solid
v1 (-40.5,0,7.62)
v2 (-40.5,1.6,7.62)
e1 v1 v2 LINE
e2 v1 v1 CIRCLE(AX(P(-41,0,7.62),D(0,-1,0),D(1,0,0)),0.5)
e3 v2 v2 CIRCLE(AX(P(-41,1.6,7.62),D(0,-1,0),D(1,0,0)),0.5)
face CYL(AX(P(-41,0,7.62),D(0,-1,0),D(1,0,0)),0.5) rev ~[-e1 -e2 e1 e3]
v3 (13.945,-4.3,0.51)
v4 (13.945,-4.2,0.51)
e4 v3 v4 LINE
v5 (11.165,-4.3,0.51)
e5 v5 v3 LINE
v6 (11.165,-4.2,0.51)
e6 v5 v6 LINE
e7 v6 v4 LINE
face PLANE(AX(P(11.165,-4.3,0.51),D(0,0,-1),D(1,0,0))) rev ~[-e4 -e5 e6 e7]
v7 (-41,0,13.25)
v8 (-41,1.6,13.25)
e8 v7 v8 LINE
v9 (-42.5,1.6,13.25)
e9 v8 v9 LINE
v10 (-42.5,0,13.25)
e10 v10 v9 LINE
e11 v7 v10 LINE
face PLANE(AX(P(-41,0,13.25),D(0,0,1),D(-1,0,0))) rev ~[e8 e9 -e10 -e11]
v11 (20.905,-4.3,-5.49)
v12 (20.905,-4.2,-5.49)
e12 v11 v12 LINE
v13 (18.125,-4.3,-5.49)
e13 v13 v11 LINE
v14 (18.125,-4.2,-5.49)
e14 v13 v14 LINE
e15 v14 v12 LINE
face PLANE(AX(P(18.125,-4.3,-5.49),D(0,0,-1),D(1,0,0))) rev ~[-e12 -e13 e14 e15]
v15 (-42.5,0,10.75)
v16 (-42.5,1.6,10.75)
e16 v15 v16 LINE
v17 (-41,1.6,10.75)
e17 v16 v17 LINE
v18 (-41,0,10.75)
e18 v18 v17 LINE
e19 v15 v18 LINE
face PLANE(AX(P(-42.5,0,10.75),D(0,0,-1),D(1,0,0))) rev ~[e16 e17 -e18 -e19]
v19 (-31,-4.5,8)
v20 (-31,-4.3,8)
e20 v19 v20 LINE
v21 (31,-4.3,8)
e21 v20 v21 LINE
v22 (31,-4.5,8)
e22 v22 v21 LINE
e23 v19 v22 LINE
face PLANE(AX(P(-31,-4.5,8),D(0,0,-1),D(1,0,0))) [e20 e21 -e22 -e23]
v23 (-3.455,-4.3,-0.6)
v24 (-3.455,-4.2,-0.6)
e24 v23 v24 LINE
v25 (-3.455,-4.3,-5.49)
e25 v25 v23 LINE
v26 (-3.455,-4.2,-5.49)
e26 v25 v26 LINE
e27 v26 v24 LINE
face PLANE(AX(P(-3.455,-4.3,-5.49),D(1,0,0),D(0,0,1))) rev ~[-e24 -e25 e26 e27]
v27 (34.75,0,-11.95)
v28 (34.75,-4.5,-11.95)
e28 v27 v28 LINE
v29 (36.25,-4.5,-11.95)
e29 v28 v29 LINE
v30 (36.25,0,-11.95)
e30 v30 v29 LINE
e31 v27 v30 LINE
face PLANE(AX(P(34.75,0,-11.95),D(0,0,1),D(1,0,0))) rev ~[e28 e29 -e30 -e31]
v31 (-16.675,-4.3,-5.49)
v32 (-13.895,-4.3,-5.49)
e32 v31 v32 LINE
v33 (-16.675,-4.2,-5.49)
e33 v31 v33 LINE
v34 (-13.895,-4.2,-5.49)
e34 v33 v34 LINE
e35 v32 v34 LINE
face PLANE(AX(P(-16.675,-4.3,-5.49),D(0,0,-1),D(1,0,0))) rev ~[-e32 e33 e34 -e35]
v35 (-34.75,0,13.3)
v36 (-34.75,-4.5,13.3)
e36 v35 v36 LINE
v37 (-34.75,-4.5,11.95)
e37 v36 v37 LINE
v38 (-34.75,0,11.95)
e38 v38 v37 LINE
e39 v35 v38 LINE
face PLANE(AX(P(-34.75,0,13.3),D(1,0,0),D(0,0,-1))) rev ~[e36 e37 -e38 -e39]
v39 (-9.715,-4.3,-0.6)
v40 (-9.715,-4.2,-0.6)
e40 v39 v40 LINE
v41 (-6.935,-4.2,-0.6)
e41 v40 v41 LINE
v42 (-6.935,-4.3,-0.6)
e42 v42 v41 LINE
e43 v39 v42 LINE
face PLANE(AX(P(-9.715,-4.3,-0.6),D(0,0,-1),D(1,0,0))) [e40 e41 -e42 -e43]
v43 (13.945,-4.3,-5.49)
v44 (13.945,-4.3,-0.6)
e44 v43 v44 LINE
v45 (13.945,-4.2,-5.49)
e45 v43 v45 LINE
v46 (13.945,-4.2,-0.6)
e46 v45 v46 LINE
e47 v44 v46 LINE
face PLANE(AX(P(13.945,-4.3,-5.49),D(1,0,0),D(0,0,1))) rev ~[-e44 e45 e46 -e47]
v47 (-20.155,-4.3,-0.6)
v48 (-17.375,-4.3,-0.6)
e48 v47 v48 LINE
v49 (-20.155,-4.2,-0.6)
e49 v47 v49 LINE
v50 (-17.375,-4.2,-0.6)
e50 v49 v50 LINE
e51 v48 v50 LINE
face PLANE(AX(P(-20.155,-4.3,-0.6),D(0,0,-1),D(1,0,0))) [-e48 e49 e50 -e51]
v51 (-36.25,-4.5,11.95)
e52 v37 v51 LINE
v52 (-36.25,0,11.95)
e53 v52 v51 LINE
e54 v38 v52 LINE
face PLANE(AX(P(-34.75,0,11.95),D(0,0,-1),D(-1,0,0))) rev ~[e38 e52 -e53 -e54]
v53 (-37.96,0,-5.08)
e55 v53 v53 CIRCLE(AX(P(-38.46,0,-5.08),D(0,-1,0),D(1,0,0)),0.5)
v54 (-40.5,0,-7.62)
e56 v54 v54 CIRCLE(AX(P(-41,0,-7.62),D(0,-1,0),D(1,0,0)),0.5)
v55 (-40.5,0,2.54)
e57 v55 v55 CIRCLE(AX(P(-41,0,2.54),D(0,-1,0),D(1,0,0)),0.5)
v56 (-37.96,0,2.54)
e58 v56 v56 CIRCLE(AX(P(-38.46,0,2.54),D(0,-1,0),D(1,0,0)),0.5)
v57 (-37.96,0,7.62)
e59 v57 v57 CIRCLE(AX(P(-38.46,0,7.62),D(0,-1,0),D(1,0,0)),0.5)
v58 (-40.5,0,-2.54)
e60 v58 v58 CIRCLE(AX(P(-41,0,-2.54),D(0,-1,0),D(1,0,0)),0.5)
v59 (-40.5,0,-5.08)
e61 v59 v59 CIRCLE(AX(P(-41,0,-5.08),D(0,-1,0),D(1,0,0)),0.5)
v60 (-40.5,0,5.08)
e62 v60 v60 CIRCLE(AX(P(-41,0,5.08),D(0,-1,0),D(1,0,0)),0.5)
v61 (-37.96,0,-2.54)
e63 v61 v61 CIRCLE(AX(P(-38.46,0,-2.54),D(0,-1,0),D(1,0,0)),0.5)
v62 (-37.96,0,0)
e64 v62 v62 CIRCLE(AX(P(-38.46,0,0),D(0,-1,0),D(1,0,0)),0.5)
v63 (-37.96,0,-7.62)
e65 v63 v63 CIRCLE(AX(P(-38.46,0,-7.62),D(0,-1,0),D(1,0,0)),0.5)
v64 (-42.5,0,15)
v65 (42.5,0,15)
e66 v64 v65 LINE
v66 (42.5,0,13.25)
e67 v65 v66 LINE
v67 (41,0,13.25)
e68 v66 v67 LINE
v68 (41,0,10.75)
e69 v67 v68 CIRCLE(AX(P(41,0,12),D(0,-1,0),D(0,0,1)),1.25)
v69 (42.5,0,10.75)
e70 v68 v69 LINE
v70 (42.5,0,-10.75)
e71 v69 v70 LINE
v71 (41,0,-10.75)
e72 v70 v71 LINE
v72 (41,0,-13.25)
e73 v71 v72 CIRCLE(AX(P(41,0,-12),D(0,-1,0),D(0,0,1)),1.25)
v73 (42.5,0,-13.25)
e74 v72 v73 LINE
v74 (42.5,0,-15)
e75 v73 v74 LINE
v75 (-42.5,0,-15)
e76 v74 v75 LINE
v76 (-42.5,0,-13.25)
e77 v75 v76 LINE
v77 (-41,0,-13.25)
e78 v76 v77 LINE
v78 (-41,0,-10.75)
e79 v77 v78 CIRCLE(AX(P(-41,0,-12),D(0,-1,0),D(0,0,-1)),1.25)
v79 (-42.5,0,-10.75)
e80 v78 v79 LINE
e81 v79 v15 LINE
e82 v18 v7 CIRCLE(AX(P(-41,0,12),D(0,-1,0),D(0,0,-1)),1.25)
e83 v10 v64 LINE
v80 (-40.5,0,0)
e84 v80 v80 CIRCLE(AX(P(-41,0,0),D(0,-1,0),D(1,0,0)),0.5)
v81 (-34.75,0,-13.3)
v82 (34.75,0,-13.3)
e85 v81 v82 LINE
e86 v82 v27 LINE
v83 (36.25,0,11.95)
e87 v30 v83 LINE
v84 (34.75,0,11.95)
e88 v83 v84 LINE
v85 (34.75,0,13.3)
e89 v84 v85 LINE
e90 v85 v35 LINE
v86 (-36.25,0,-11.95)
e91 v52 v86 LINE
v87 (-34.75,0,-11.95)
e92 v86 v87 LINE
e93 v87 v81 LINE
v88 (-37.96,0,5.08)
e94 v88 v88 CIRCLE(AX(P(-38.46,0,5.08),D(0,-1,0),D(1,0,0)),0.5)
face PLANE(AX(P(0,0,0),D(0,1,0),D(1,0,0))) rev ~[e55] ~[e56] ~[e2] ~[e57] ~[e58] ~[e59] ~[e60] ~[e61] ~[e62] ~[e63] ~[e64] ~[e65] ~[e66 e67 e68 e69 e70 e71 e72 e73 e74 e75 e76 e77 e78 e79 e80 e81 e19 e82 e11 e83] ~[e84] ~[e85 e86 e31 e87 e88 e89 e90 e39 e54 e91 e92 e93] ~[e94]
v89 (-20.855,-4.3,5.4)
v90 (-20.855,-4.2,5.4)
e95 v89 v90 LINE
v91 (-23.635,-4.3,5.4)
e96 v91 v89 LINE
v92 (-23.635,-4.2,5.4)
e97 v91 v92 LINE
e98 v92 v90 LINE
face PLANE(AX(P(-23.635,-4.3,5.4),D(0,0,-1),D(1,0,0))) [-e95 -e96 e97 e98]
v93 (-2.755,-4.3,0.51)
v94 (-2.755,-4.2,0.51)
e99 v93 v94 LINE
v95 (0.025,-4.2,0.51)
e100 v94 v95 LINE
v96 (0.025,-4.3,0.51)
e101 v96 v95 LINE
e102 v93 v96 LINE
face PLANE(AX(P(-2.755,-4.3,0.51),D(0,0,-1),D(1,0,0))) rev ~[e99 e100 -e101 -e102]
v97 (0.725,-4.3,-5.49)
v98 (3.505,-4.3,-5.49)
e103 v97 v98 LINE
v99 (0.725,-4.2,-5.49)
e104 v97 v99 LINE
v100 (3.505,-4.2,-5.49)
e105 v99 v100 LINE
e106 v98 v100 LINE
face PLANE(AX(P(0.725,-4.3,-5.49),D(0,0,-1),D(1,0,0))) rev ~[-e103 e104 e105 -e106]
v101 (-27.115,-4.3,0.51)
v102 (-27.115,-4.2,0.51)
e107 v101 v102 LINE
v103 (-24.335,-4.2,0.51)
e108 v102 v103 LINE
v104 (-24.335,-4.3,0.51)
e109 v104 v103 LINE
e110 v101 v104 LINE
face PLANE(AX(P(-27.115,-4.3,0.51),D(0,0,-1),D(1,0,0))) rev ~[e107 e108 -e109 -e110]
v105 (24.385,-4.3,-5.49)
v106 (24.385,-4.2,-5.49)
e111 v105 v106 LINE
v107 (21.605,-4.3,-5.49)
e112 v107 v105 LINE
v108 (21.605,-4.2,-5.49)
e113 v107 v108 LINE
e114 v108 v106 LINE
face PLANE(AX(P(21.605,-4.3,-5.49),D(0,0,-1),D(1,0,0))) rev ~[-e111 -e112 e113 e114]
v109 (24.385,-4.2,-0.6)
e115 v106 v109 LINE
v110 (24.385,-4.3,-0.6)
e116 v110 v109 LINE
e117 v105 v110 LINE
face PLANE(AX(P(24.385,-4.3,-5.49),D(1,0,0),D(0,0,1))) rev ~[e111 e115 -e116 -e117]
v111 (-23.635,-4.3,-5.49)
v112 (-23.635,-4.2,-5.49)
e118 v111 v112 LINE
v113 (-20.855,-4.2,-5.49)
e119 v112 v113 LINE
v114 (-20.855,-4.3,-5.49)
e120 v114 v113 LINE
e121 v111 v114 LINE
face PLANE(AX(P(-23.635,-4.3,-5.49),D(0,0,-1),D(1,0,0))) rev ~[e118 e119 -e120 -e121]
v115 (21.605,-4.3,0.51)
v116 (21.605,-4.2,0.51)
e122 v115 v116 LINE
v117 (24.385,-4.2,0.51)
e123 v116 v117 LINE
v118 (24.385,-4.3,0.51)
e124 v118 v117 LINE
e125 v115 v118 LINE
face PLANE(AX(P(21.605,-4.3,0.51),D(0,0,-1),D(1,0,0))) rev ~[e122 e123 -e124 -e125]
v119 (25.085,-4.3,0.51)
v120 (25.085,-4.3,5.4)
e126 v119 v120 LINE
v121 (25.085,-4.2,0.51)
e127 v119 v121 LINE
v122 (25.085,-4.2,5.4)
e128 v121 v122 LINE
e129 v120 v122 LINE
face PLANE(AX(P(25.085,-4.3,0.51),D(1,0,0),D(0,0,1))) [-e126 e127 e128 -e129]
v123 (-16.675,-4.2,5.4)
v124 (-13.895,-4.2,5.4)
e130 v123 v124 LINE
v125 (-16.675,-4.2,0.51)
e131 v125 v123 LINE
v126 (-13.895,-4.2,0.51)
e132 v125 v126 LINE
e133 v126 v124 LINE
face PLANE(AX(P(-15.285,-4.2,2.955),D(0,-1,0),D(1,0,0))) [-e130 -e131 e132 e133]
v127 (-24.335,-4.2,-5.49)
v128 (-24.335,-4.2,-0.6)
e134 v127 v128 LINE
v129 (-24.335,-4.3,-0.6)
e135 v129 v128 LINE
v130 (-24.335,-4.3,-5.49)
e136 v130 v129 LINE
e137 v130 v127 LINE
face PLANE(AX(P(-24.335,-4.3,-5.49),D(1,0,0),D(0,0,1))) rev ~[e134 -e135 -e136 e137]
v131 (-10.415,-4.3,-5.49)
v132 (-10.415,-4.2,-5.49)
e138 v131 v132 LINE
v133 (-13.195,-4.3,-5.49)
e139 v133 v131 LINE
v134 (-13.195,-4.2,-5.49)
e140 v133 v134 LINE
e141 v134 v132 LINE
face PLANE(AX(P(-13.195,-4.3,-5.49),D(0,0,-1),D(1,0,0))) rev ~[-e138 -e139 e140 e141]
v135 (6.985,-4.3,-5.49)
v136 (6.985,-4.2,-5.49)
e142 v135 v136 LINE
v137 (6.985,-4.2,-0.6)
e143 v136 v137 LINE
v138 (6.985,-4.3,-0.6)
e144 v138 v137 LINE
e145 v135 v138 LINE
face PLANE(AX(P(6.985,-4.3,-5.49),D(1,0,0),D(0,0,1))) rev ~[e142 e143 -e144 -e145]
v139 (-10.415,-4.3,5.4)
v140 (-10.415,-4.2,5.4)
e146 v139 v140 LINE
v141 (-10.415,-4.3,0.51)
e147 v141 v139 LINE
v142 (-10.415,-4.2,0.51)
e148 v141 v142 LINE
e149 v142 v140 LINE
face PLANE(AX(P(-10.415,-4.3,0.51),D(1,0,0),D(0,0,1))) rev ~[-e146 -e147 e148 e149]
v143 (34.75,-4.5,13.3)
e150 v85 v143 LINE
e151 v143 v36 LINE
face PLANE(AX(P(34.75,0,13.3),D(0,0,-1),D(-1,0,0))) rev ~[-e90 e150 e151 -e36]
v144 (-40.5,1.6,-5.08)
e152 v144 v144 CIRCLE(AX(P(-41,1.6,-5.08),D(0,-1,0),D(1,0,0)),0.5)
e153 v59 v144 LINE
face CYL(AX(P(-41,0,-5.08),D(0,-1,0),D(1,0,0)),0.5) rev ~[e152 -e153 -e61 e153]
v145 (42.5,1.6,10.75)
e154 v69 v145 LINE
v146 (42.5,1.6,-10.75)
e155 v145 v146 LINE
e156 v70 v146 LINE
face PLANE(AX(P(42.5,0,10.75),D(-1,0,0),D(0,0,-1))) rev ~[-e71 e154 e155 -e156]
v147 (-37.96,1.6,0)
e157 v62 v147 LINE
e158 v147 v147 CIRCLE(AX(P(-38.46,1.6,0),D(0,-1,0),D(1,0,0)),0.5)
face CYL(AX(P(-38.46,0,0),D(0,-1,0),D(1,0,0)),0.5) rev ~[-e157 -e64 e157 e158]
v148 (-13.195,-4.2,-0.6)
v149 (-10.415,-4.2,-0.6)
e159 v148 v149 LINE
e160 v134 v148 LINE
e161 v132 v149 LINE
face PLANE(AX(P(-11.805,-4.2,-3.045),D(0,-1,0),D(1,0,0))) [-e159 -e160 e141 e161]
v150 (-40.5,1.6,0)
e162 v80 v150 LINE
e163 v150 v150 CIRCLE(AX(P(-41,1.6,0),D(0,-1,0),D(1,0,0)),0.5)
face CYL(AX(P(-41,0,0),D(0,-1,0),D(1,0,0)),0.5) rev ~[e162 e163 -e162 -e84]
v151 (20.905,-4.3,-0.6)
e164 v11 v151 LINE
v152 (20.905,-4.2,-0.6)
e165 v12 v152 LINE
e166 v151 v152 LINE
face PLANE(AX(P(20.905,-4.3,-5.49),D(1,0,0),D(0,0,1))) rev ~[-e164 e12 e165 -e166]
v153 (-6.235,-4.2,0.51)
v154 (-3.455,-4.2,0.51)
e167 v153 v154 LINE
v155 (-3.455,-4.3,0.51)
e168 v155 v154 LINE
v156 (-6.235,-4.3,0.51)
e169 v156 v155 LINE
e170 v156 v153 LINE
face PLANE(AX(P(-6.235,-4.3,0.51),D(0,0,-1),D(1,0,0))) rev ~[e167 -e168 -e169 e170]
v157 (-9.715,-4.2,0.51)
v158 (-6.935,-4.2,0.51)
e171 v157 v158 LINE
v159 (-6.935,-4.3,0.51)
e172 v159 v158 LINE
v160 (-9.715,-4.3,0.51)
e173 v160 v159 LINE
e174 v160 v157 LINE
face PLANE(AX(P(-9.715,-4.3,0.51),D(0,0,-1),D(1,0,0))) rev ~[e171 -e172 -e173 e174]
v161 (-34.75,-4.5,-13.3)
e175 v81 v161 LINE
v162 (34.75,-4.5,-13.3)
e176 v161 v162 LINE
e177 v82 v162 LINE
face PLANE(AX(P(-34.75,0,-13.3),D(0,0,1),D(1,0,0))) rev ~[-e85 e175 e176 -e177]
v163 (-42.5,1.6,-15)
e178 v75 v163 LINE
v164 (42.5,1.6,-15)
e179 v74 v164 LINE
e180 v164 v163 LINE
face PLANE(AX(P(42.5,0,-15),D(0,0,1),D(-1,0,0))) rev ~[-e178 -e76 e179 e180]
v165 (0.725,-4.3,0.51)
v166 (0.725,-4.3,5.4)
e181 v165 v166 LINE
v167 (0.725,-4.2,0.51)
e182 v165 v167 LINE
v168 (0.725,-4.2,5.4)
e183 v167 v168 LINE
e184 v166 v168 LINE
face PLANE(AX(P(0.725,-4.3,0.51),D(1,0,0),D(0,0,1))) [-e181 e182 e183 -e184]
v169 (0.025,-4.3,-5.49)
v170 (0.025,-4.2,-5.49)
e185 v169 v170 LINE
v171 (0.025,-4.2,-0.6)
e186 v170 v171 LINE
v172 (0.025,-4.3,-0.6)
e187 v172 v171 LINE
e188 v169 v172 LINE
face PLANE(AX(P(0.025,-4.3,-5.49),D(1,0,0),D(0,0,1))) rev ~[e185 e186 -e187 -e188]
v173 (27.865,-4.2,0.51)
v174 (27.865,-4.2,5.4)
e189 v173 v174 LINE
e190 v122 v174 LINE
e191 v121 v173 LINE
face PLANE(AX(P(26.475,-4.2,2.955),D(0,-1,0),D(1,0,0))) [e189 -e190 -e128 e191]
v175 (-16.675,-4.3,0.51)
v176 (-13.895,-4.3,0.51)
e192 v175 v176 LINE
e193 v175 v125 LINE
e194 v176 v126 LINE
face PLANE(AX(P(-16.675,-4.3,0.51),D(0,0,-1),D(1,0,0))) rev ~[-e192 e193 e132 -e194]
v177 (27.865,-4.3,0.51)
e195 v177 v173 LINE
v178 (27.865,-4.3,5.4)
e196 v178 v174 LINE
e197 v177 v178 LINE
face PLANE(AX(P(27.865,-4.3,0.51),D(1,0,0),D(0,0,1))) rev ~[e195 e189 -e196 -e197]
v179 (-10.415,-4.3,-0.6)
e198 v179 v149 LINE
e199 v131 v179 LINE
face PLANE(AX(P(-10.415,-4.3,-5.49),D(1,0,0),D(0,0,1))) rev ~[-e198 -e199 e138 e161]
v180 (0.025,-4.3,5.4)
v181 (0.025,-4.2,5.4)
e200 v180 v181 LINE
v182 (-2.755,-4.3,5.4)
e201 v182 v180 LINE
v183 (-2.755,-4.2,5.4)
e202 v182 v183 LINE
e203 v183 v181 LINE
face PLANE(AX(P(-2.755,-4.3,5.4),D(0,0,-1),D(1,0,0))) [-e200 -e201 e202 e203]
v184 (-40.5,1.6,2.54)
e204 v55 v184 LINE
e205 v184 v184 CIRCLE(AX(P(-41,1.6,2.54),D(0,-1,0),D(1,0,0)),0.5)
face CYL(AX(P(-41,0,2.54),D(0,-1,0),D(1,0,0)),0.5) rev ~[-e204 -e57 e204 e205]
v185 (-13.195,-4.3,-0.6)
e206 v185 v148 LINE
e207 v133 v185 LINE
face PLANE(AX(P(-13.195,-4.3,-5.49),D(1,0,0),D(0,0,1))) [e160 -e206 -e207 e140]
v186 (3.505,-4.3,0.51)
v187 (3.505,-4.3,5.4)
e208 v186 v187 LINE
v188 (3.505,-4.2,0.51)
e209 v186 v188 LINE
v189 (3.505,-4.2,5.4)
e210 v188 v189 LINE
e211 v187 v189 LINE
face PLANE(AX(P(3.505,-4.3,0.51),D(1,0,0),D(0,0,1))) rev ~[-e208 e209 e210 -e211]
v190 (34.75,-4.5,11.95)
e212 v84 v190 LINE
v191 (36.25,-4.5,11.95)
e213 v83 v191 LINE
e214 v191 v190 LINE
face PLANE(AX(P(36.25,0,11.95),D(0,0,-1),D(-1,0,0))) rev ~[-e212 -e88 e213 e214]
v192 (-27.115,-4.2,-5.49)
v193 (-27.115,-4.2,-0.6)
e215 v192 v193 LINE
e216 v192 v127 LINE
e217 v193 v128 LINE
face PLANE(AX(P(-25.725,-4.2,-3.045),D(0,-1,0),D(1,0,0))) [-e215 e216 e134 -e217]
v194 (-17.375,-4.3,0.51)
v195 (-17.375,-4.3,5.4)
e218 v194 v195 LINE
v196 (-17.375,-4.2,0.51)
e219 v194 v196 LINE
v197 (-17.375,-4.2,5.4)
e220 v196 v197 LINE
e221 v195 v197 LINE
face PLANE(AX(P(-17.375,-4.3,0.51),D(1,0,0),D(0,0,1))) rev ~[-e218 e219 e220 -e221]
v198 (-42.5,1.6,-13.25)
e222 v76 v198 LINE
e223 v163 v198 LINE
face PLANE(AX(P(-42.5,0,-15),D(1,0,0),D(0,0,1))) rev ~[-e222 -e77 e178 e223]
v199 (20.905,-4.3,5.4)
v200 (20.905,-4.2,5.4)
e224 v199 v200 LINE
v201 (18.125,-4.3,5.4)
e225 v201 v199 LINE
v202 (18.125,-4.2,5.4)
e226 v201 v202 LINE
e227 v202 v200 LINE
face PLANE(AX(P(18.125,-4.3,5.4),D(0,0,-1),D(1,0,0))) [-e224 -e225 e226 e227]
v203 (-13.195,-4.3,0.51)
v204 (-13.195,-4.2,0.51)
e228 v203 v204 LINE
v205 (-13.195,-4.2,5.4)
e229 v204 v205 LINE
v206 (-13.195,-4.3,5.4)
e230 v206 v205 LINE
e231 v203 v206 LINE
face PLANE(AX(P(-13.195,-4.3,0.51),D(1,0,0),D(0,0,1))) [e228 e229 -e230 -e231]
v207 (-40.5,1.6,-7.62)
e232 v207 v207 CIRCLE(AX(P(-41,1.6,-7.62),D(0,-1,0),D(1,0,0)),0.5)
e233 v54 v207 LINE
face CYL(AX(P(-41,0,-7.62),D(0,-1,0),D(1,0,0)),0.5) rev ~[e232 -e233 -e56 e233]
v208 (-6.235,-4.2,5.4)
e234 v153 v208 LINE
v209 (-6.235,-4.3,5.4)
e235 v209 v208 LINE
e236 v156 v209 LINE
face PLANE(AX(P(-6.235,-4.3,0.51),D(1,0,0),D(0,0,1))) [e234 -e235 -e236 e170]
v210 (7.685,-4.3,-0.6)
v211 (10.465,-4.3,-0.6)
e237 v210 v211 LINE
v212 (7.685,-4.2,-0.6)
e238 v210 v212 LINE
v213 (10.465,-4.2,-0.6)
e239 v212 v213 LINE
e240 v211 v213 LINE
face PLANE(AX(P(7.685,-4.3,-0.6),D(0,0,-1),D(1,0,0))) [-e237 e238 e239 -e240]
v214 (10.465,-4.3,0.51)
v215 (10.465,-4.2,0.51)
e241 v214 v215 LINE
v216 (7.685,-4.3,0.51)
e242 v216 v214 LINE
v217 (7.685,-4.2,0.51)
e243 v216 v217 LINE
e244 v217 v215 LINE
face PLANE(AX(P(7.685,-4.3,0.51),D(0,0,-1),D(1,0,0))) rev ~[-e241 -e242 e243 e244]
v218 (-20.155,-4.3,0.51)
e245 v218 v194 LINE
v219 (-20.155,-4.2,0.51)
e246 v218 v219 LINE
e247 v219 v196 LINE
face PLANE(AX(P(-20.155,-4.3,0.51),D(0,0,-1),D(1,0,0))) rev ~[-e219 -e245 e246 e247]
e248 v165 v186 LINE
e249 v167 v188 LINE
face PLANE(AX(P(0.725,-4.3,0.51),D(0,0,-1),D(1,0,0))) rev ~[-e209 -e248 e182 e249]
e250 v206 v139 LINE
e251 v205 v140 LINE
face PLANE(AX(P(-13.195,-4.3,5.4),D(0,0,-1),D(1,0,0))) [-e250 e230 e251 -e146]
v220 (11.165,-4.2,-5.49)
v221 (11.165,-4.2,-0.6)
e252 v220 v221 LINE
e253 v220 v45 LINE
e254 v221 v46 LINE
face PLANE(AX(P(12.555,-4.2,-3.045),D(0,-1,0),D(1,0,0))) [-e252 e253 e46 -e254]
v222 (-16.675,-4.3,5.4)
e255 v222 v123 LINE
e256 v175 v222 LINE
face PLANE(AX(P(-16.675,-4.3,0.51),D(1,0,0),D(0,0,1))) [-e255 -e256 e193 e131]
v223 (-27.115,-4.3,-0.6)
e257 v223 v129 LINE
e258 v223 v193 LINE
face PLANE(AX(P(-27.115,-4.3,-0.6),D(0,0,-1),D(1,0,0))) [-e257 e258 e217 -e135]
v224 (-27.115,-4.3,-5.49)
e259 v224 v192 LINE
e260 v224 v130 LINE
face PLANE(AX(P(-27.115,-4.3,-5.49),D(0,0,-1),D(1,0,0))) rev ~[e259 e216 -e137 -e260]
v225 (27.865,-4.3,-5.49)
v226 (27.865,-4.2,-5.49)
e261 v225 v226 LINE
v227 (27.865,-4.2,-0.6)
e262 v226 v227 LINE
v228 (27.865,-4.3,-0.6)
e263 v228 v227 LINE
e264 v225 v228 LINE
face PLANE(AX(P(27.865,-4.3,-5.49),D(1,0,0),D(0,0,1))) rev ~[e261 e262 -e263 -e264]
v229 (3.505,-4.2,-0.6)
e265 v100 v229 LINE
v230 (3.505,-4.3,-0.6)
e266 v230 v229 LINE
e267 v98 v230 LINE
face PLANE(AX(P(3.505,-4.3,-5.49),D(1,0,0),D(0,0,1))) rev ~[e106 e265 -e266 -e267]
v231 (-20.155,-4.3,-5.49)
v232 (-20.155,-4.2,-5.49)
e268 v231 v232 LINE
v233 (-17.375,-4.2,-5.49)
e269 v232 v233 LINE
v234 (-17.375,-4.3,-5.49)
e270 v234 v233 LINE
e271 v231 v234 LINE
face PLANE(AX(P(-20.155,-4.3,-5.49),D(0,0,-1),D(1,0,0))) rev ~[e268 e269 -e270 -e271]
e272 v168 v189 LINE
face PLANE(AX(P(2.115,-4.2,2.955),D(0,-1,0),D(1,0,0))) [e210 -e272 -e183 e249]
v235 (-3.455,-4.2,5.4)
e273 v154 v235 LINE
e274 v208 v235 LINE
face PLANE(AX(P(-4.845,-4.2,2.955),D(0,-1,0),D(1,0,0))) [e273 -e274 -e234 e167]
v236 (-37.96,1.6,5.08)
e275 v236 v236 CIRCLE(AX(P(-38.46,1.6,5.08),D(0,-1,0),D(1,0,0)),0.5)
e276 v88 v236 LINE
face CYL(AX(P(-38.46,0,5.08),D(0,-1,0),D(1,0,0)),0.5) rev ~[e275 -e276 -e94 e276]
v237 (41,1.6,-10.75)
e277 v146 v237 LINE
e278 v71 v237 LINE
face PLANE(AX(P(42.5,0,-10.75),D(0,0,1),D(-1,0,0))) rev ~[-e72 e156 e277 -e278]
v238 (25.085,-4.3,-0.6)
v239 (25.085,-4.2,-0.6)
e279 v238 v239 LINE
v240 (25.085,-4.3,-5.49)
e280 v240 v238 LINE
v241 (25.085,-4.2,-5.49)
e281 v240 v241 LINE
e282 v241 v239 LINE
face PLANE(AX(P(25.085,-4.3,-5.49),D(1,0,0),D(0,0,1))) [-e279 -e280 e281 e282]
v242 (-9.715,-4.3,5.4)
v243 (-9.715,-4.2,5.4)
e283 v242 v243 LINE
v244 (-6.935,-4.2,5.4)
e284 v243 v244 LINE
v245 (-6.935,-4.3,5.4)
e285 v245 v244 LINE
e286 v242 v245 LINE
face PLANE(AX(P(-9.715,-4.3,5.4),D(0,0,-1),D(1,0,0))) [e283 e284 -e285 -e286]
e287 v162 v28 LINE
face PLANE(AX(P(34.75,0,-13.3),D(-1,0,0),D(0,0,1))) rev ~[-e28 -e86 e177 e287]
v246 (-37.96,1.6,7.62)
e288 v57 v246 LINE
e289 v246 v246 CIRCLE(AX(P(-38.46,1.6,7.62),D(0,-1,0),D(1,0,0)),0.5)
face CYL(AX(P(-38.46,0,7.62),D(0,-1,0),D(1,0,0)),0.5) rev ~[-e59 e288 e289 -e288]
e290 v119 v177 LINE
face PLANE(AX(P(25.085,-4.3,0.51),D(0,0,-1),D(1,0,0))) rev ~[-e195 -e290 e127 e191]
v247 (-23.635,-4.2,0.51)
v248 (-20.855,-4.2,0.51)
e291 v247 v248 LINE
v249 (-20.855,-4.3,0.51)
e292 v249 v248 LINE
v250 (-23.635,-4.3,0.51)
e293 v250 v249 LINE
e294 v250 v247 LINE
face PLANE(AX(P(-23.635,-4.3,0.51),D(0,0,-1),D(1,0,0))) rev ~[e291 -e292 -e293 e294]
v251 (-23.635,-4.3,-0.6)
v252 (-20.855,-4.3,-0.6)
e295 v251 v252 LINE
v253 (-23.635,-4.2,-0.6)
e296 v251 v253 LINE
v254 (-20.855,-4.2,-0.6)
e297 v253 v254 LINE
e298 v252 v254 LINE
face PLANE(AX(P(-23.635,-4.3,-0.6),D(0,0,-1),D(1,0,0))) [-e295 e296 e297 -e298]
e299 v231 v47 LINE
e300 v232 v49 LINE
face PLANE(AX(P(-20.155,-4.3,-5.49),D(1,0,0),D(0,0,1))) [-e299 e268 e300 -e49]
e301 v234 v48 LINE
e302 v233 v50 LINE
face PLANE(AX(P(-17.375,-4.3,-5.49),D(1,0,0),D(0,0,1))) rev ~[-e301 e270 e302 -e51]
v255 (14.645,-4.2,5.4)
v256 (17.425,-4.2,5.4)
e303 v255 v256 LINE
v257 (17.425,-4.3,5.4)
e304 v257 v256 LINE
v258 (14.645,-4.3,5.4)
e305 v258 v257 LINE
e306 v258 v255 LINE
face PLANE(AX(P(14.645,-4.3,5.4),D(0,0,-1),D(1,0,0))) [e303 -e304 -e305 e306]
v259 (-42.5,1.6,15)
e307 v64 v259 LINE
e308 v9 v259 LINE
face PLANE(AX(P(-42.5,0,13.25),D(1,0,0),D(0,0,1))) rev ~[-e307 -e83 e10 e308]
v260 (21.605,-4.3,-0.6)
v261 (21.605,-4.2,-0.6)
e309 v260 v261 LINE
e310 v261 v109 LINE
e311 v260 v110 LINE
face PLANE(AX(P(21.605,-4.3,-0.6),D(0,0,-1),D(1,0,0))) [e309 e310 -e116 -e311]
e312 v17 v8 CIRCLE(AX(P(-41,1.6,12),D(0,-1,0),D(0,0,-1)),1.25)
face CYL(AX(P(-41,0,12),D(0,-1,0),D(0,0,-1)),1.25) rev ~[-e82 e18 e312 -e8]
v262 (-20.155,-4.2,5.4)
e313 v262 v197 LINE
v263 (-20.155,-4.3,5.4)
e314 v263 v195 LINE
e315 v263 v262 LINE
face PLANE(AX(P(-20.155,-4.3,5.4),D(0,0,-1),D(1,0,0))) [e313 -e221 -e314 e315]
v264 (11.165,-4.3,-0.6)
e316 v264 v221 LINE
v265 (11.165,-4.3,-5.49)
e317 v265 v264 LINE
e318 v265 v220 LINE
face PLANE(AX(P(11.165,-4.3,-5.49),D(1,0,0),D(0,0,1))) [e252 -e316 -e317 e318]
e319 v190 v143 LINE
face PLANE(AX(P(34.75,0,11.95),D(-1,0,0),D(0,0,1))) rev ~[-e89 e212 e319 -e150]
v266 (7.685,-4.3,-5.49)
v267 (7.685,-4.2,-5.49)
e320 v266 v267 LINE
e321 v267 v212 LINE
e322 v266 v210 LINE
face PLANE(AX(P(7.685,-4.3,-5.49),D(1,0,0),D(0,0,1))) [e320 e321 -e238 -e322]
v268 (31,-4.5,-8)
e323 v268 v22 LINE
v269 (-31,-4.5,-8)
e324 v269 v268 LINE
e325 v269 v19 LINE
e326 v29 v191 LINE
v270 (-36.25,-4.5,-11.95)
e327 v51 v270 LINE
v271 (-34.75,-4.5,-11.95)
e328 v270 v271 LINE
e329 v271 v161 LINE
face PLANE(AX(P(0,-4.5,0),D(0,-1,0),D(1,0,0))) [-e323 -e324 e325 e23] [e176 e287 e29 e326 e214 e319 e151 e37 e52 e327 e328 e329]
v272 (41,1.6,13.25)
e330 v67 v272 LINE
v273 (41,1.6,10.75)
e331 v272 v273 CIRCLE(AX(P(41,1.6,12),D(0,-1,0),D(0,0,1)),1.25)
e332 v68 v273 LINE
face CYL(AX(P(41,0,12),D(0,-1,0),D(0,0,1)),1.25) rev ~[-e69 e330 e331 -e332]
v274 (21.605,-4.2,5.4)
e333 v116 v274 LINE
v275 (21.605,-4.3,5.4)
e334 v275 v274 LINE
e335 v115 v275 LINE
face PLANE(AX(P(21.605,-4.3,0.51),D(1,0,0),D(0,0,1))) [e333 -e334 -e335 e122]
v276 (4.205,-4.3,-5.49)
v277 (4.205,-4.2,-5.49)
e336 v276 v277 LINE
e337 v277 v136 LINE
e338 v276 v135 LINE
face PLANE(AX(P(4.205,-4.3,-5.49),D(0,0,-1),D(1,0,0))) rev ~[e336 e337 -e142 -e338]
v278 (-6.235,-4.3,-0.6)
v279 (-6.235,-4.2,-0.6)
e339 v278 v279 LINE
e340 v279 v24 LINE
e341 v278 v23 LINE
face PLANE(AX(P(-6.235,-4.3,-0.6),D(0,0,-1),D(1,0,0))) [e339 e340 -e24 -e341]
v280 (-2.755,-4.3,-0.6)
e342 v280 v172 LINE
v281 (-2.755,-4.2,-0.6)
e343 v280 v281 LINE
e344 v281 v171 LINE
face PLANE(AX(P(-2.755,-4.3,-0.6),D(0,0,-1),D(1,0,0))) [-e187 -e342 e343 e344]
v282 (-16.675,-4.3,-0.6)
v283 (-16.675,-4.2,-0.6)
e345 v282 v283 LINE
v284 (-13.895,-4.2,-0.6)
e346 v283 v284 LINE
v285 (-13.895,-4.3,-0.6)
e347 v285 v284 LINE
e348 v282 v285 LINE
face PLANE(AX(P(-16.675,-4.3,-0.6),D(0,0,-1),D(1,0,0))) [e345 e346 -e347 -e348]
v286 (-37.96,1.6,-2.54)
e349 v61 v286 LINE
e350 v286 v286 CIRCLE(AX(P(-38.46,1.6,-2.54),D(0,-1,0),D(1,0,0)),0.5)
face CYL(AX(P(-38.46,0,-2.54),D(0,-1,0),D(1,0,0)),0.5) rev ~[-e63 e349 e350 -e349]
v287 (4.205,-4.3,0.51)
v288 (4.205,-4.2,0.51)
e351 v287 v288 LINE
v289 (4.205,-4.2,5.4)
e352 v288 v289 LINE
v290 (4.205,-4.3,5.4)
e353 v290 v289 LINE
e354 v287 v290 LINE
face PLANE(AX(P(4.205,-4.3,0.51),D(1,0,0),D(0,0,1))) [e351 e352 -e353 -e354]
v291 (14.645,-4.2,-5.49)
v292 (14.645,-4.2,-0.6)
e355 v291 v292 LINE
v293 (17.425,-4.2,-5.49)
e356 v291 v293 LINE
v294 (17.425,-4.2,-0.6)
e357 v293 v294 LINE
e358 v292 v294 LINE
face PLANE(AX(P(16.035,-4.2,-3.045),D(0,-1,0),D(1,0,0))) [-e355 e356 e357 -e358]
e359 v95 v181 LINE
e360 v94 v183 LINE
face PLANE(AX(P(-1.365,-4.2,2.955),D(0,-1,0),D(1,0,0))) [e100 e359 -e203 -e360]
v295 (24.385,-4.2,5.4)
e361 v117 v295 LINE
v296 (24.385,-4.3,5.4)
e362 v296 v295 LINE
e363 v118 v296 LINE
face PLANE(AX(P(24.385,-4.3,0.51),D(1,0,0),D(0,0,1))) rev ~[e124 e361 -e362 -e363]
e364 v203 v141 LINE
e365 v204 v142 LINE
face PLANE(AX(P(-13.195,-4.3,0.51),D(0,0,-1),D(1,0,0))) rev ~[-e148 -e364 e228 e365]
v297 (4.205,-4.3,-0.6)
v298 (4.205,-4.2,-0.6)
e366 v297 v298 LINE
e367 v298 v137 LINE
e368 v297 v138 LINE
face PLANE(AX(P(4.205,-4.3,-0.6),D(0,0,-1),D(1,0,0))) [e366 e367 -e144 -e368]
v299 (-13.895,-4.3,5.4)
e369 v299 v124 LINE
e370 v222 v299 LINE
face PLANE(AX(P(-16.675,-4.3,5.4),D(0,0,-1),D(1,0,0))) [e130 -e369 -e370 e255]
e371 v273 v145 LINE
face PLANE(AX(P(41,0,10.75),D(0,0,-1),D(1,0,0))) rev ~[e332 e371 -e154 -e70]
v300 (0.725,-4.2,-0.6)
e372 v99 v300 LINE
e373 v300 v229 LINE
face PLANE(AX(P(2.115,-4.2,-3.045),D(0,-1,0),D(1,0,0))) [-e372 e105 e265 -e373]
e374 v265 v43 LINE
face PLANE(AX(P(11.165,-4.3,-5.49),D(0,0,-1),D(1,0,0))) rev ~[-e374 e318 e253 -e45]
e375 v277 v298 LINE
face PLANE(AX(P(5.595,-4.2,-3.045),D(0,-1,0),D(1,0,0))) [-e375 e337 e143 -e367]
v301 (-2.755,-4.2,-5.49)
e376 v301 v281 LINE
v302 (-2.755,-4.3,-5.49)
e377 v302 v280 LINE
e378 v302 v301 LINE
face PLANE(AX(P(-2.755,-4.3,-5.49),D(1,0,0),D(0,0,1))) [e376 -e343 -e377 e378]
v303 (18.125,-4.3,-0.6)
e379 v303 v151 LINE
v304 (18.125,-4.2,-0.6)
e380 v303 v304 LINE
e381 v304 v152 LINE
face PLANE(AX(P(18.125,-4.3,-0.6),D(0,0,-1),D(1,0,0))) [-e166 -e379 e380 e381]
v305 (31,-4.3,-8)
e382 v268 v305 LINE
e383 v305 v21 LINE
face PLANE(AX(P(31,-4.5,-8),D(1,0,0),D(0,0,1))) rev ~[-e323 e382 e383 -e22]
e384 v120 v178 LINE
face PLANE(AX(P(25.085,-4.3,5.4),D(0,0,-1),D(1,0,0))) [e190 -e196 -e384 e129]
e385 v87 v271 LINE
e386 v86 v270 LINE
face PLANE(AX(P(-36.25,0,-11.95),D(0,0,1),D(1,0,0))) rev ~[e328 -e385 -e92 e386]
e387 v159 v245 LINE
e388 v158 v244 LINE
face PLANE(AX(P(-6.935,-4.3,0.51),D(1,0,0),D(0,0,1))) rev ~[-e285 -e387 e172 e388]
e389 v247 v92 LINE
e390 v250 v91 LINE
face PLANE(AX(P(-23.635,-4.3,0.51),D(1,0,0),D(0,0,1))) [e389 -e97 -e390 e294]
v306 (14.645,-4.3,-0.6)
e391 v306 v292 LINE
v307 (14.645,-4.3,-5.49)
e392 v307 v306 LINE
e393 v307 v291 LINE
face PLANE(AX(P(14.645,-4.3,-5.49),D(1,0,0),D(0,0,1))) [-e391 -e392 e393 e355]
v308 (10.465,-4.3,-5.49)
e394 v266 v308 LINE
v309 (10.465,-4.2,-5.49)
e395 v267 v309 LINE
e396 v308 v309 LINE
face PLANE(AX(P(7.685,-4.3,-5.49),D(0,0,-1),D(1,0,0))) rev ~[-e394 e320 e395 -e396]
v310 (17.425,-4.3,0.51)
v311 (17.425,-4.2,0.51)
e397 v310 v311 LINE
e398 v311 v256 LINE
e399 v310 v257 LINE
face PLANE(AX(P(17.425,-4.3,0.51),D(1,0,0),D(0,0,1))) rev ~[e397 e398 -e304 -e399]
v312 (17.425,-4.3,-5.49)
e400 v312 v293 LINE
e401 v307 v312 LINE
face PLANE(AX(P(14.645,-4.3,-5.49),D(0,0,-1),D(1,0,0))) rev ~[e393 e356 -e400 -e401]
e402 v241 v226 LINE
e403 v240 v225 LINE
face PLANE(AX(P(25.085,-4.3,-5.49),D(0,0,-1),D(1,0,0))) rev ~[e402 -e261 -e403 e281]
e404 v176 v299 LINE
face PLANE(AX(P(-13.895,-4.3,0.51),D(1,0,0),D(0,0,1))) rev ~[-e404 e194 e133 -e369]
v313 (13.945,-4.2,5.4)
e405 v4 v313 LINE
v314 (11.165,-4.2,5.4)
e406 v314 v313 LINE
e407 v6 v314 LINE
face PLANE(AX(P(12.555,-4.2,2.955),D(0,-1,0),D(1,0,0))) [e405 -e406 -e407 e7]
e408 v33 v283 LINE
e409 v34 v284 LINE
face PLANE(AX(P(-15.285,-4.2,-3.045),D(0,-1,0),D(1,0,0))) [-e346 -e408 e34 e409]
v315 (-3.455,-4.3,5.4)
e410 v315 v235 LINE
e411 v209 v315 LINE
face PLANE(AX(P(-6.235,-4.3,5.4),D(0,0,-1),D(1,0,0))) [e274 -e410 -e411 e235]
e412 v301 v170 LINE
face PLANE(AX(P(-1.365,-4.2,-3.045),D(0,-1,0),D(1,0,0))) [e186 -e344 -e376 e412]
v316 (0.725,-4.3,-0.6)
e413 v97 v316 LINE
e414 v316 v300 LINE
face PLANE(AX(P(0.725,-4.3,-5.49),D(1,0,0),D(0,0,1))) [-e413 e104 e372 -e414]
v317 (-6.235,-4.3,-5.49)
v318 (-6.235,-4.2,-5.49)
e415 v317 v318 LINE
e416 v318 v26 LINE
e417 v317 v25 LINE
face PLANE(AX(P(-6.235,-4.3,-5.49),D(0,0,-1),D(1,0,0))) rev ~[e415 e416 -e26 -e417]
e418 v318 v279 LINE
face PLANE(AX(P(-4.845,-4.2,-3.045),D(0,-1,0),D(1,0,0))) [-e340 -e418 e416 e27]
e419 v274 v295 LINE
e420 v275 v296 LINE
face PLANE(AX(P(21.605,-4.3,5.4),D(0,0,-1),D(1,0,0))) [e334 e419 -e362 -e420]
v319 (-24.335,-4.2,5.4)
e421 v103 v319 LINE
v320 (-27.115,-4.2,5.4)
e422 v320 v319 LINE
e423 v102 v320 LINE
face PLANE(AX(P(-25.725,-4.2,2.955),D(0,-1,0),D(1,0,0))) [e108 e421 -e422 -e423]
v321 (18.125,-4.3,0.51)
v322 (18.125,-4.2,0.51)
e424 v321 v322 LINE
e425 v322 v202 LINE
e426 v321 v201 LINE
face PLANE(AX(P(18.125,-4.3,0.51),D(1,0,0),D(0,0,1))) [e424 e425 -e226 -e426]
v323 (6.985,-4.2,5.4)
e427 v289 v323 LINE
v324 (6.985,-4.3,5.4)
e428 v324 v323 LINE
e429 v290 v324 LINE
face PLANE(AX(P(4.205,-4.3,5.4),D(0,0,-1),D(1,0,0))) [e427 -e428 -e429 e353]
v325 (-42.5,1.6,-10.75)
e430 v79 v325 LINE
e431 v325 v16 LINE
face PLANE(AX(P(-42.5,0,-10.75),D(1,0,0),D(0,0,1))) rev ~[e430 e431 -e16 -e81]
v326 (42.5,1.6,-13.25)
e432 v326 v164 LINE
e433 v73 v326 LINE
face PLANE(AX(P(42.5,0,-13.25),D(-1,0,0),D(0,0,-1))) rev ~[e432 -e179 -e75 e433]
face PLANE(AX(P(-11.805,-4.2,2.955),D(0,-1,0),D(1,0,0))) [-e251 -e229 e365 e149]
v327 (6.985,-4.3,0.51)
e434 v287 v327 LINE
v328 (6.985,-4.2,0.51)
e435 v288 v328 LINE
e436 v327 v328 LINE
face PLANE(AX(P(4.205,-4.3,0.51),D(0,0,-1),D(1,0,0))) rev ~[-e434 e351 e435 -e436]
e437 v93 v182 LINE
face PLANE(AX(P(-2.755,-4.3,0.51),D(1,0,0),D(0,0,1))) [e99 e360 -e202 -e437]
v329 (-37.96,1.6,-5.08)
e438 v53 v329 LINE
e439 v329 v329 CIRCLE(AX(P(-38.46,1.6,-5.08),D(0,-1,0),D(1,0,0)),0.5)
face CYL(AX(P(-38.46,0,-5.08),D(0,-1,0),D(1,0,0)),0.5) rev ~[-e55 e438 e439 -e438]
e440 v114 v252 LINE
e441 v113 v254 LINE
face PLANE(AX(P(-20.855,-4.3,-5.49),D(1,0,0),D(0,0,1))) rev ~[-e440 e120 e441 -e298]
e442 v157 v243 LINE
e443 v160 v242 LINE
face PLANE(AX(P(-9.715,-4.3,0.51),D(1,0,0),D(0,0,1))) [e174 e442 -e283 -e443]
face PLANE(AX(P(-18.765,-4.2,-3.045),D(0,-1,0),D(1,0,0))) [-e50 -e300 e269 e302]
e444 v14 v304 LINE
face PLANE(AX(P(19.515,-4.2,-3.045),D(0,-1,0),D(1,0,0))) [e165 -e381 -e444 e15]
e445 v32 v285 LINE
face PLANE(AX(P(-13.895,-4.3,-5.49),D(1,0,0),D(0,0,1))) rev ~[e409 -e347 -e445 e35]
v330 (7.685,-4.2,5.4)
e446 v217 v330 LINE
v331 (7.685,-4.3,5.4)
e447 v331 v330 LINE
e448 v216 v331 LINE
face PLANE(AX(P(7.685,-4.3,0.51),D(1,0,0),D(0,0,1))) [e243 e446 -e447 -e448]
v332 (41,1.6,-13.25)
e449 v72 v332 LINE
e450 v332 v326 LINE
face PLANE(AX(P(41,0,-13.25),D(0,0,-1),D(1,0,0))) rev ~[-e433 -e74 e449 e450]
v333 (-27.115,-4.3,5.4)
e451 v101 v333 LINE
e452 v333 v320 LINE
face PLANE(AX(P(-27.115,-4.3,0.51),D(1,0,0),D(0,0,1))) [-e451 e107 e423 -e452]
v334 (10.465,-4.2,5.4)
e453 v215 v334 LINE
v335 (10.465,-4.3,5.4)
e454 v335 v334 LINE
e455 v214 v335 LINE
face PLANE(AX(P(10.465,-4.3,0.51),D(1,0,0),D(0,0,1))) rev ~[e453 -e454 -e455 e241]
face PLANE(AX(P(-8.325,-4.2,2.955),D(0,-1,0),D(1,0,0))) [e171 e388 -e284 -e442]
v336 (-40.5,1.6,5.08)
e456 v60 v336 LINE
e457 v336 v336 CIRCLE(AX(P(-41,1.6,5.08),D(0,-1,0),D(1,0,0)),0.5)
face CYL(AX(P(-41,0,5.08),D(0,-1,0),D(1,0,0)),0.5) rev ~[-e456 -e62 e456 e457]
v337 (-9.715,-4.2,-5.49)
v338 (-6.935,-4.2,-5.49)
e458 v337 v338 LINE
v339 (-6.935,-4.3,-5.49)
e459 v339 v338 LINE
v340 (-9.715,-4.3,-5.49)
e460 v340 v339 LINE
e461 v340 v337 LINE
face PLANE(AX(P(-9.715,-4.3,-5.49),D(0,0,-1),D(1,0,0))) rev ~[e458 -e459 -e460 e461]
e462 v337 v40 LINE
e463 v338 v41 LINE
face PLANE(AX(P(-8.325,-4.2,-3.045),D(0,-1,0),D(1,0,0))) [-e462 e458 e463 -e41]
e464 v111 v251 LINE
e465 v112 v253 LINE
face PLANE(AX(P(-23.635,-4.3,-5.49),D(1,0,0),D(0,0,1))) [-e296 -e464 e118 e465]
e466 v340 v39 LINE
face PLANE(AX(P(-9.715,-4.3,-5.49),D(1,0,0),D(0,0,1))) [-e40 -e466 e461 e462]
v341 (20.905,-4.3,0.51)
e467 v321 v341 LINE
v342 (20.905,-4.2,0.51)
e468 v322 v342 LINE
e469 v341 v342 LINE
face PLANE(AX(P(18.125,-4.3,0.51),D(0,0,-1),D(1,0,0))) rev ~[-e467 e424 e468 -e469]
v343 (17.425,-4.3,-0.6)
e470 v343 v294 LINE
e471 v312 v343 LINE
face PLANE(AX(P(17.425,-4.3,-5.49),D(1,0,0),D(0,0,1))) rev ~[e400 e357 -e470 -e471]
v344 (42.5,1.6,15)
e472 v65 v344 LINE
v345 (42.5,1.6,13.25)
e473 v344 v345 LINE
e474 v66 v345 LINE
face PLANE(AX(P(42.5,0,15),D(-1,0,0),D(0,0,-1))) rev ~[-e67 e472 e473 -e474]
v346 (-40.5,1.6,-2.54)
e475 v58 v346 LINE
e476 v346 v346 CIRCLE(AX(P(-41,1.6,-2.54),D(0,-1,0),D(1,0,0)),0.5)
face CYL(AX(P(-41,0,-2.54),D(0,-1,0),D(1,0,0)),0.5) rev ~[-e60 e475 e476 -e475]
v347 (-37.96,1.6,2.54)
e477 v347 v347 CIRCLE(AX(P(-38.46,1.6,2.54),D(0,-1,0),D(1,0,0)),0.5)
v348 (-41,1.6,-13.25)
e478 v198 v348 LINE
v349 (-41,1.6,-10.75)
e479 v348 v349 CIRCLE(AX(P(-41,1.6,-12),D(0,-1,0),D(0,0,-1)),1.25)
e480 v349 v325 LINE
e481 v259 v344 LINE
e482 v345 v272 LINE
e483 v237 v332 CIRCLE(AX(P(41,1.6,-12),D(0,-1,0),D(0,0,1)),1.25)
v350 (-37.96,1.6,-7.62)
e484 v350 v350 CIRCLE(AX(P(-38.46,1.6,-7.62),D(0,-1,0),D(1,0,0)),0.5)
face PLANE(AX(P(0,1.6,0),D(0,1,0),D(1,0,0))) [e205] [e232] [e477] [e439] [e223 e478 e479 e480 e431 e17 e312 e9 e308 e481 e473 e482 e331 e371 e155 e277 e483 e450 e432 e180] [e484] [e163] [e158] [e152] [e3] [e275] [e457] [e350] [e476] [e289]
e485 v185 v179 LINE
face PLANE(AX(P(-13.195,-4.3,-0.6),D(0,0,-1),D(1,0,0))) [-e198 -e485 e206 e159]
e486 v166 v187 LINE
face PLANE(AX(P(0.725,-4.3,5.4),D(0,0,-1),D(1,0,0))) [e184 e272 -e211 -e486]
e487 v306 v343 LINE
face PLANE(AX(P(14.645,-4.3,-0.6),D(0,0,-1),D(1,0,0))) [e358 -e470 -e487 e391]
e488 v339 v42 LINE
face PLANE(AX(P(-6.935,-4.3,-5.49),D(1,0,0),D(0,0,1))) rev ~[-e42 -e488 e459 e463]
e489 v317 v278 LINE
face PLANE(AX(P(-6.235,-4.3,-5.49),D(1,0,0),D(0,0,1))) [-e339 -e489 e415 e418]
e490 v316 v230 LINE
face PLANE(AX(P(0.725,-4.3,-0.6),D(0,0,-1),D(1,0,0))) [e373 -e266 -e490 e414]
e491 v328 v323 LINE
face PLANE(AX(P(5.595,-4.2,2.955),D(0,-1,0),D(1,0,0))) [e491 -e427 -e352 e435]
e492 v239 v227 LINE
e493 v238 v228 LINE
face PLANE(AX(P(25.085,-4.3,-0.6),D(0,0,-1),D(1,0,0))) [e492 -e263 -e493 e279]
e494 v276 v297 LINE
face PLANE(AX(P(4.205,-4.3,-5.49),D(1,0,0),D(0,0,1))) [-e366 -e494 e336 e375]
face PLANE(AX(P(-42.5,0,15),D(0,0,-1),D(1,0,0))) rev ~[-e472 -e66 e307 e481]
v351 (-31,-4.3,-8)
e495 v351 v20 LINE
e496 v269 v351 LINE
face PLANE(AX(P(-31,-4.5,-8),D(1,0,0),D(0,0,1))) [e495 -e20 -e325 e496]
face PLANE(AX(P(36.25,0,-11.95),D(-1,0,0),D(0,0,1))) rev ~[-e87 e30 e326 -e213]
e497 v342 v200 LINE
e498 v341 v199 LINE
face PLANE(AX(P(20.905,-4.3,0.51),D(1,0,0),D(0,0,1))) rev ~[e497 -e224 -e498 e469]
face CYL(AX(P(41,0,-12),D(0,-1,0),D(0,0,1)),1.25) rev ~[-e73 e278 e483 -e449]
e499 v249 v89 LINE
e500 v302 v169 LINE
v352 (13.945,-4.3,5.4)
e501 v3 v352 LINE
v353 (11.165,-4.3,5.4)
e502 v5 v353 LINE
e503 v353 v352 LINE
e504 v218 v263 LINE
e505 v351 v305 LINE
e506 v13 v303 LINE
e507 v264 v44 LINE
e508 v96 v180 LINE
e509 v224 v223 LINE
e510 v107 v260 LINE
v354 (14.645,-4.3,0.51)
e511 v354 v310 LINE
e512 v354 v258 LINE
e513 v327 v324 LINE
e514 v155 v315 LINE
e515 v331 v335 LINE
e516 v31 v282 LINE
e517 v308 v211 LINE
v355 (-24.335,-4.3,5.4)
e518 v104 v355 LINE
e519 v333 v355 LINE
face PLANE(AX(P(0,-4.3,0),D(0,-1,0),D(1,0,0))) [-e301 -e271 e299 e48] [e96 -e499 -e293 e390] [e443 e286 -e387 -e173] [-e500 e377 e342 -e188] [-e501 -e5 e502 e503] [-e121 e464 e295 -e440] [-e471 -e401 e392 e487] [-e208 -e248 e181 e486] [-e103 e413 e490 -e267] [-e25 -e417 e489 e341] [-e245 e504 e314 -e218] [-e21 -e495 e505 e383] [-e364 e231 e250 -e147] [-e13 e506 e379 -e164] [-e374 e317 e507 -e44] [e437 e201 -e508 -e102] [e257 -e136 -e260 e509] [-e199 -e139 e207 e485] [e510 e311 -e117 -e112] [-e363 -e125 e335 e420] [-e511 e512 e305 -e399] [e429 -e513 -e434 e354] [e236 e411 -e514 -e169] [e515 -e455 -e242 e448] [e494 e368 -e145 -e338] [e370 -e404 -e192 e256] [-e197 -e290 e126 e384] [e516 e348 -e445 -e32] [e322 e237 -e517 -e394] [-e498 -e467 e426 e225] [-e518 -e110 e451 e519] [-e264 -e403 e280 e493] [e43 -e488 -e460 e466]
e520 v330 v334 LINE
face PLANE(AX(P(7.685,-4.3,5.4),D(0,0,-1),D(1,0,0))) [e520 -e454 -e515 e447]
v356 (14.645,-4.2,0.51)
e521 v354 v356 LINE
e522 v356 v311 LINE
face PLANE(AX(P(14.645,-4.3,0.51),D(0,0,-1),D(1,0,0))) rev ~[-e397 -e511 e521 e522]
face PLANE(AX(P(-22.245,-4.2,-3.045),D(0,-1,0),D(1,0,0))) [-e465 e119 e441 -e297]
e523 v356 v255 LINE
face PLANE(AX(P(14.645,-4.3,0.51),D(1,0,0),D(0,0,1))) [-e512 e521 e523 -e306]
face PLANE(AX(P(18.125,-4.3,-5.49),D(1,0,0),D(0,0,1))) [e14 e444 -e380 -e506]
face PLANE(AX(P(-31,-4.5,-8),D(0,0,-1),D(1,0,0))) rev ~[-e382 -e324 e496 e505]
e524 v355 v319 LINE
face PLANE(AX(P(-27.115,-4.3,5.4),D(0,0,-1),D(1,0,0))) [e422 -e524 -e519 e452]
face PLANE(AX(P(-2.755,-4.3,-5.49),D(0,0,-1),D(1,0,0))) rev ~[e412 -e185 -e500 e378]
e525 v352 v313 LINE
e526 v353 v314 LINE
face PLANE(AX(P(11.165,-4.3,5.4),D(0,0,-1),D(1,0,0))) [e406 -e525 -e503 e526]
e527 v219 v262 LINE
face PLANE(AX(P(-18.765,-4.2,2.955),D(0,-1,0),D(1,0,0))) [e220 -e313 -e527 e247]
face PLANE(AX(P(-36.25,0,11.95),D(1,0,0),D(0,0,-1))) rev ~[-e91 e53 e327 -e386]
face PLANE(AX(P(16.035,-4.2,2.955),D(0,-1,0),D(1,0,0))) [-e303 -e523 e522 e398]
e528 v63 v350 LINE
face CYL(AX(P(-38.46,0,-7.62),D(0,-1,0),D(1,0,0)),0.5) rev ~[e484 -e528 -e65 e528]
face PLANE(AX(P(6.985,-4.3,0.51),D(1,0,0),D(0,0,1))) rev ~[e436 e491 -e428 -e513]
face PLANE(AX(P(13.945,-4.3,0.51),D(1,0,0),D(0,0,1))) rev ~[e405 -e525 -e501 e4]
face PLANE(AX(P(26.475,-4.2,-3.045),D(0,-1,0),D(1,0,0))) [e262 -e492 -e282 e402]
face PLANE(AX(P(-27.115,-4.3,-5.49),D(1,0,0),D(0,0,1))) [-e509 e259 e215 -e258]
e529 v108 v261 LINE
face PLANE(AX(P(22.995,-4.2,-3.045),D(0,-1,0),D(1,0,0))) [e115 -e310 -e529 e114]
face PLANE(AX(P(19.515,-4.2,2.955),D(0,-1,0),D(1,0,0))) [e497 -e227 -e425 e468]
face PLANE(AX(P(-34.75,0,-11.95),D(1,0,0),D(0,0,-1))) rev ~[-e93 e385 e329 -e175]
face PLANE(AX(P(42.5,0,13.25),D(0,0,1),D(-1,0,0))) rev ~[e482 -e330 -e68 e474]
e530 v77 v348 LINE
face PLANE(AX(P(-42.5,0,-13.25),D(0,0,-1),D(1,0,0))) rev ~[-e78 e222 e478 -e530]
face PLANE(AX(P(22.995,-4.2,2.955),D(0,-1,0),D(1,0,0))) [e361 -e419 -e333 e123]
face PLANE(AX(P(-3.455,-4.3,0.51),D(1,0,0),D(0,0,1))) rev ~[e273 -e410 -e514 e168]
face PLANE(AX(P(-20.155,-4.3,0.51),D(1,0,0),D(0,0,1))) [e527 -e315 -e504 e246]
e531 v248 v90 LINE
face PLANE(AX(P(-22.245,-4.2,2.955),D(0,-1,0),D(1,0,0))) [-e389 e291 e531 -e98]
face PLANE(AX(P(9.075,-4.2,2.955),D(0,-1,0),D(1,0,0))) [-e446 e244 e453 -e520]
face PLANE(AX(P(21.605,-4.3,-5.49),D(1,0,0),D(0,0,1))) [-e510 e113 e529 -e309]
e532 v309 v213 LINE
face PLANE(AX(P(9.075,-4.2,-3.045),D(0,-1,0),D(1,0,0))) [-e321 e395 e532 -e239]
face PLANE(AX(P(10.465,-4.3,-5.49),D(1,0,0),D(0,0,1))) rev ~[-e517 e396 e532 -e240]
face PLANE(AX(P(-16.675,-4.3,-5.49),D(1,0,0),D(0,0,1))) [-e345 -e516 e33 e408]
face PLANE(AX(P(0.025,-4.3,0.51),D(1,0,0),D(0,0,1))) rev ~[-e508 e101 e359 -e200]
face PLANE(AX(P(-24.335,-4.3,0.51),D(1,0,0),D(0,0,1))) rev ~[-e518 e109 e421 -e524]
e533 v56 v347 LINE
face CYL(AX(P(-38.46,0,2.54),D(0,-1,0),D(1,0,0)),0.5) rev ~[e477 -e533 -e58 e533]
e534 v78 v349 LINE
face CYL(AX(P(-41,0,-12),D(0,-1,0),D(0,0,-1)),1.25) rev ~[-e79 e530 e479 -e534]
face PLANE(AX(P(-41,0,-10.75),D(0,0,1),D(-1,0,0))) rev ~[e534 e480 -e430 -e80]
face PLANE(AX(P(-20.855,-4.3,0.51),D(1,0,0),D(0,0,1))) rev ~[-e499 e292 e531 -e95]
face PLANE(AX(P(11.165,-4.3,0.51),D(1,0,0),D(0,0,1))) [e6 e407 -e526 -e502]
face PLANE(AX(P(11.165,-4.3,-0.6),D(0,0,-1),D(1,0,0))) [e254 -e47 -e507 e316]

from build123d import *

# Parameters (mm, degrees)
BOSS_EXTRU_1_DEPTH      = 1.6
ESQUISSE2_R             = 0.5
ENL_V_MAT_EXTRU_1_DEPTH = 2.6
BOSS_EXTRU_2_DEPTH      = 4.5
ESQUISSE5_W             = 62
ESQUISSE5_H             = 16
ENL_V_MAT_EXTRU_2_DEPTH = 0.2
ESQUISSE6_W             = 2.78
ESQUISSE6_H             = 4.89
ENL_V_MAT_EXTRU_3_DEPTH = 0.1


with BuildPart() as part:
    # Esquisse1 → Boss.-Extru.1 (new body)
    with BuildSketch(Plane(origin=(0, 0, 0), x_dir=(1, 0, 0), z_dir=(0, 1, 0))):
        with BuildLine():
            Line((-41, -13.25), (-42.5, -13.25))
            Line((-42.5, -13.25), (-42.5, -15))
            Line((-42.5, -15), (42.5, -15))
            Line((42.5, -15), (42.5, -13.25))
            Line((42.5, -13.25), (41, -13.25))
            ThreePointArc((41, -13.25), (39.75, -12), (41, -10.75))
            Line((41, -10.75), (42.5, -10.75))
            Line((42.5, -10.75), (42.5, 10.75))
            Line((42.5, 10.75), (41, 10.75))
            ThreePointArc((41, 10.75), (39.75, 12), (41, 13.25))
            Line((41, 13.25), (42.5, 13.25))
            Line((42.5, 13.25), (42.5, 15))
            Line((42.5, 15), (-42.5, 15))
            Line((-42.5, 15), (-42.5, 13.25))
            Line((-42.5, 13.25), (-41, 13.25))
            ThreePointArc((-41, 13.25), (-39.75, 12), (-41, 10.75))
            Line((-41, 10.75), (-42.5, 10.75))
            Line((-42.5, 10.75), (-42.5, -10.75))
            Line((-42.5, -10.75), (-41, -10.75))
            ThreePointArc((-41, -10.75), (-39.75, -12), (-41, -13.25))
        make_face()
    extrude(amount=BOSS_EXTRU_1_DEPTH)

    # Esquisse2 → Enlèv. mat.-Extru.1 (cut, through all)
    with BuildSketch(Plane.XZ):
        with Locations((-41, 7.62)):
            Circle(ESQUISSE2_R)
        with Locations((-38.46, 7.62)):
            Circle(ESQUISSE2_R)
        with Locations((-38.46, 5.08)):
            Circle(ESQUISSE2_R)
        with Locations((-38.46, 2.54)):
            Circle(ESQUISSE2_R)
        with Locations((-38.46, 0)):
            Circle(ESQUISSE2_R)
        with Locations((-38.46, -2.54)):
            Circle(ESQUISSE2_R)
        with Locations((-38.46, -5.08)):
            Circle(ESQUISSE2_R)
        with Locations((-38.46, -7.62)):
            Circle(ESQUISSE2_R)
        with Locations((-41, 5.08)):
            Circle(ESQUISSE2_R)
        with Locations((-41, 2.54)):
            Circle(ESQUISSE2_R)
        with Locations((-41, 0)):
            Circle(ESQUISSE2_R)
        with Locations((-41, -2.54)):
            Circle(ESQUISSE2_R)
        with Locations((-41, -5.08)):
            Circle(ESQUISSE2_R)
        with Locations((-41, -7.62)):
            Circle(ESQUISSE2_R)
    extrude(amount=-ENL_V_MAT_EXTRU_1_DEPTH, mode=Mode.SUBTRACT)

    # Esquisse3 → Boss.-Extru.2 (add)
    with BuildSketch(Plane.XZ):
        Polygon((-34.75, 13.3), (-34.75, 11.95), (-36.25, 11.95), (-36.25, -11.95), (-34.75, -11.95), (-34.75, -13.3), (34.75, -13.3), (34.75, -11.95), (36.25, -11.95), (36.25, 11.95), (34.75, 11.95), (34.75, 13.3), align=None)
    extrude(amount=BOSS_EXTRU_2_DEPTH)

    # Esquisse5 → Enlèv. mat.-Extru.2 (cut)
    with BuildSketch(Plane.XZ.offset(4.5)):
        Rectangle(ESQUISSE5_W, ESQUISSE5_H)
    extrude(amount=-ENL_V_MAT_EXTRU_2_DEPTH, mode=Mode.SUBTRACT)

    # Esquisse6 → Enlèv. mat.-Extru.3 (cut)
    with BuildSketch(Plane.XZ.offset(4.3)):
        with Locations((26.475, -3.045)):
            Rectangle(ESQUISSE6_W, ESQUISSE6_H)
        with Locations((22.995, -3.045)):
            Rectangle(ESQUISSE6_W, ESQUISSE6_H)
        with Locations((19.515, -3.045)):
            Rectangle(ESQUISSE6_W, ESQUISSE6_H)
        with Locations((16.035, -3.045)):
            Rectangle(ESQUISSE6_W, ESQUISSE6_H)
        with Locations((12.555, -3.045)):
            Rectangle(ESQUISSE6_W, ESQUISSE6_H)
        with Locations((9.075, -3.045)):
            Rectangle(ESQUISSE6_W, ESQUISSE6_H)
        with Locations((5.595, -3.045)):
            Rectangle(ESQUISSE6_W, ESQUISSE6_H)
        with Locations((2.115, -3.045)):
            Rectangle(ESQUISSE6_W, ESQUISSE6_H)
        with Locations((-1.365, -3.045)):
            Rectangle(ESQUISSE6_W, ESQUISSE6_H)
        with Locations((-4.845, -3.045)):
            Rectangle(ESQUISSE6_W, ESQUISSE6_H)
        with Locations((-8.325, -3.045)):
            Rectangle(ESQUISSE6_W, ESQUISSE6_H)
        with Locations((-11.805, -3.045)):
            Rectangle(ESQUISSE6_W, ESQUISSE6_H)
        with Locations((-15.285, -3.045)):
            Rectangle(ESQUISSE6_W, ESQUISSE6_H)
        with Locations((-18.765, -3.045)):
            Rectangle(ESQUISSE6_W, ESQUISSE6_H)
        with Locations((-22.245, -3.045)):
            Rectangle(ESQUISSE6_W, ESQUISSE6_H)
        with Locations((-25.725, -3.045)):
            Rectangle(ESQUISSE6_W, ESQUISSE6_H)
        with Locations((26.475, 2.955)):
            Rectangle(ESQUISSE6_W, ESQUISSE6_H)
        with Locations((22.995, 2.955)):
            Rectangle(ESQUISSE6_W, ESQUISSE6_H)
        with Locations((19.515, 2.955)):
            Rectangle(ESQUISSE6_W, ESQUISSE6_H)
        with Locations((16.035, 2.955)):
            Rectangle(ESQUISSE6_W, ESQUISSE6_H)
        with Locations((12.555, 2.955)):
            Rectangle(ESQUISSE6_W, ESQUISSE6_H)
        with Locations((9.075, 2.955)):
            Rectangle(ESQUISSE6_W, ESQUISSE6_H)
        with Locations((5.595, 2.955)):
            Rectangle(ESQUISSE6_W, ESQUISSE6_H)
        with Locations((2.115, 2.955)):
            Rectangle(ESQUISSE6_W, ESQUISSE6_H)
        with Locations((-1.365, 2.955)):
            Rectangle(ESQUISSE6_W, ESQUISSE6_H)
        with Locations((-4.845, 2.955)):
            Rectangle(ESQUISSE6_W, ESQUISSE6_H)
        with Locations((-8.325, 2.955)):
            Rectangle(ESQUISSE6_W, ESQUISSE6_H)
        with Locations((-11.805, 2.955)):
            Rectangle(ESQUISSE6_W, ESQUISSE6_H)
        with Locations((-15.285, 2.955)):
            Rectangle(ESQUISSE6_W, ESQUISSE6_H)
        with Locations((-18.765, 2.955)):
            Rectangle(ESQUISSE6_W, ESQUISSE6_H)
        with Locations((-22.245, 2.955)):
            Rectangle(ESQUISSE6_W, ESQUISSE6_H)
        with Locations((-25.725, 2.955)):
            Rectangle(ESQUISSE6_W, ESQUISSE6_H)
    extrude(amount=-ENL_V_MAT_EXTRU_3_DEPTH, mode=Mode.SUBTRACT)


solid = part.part
